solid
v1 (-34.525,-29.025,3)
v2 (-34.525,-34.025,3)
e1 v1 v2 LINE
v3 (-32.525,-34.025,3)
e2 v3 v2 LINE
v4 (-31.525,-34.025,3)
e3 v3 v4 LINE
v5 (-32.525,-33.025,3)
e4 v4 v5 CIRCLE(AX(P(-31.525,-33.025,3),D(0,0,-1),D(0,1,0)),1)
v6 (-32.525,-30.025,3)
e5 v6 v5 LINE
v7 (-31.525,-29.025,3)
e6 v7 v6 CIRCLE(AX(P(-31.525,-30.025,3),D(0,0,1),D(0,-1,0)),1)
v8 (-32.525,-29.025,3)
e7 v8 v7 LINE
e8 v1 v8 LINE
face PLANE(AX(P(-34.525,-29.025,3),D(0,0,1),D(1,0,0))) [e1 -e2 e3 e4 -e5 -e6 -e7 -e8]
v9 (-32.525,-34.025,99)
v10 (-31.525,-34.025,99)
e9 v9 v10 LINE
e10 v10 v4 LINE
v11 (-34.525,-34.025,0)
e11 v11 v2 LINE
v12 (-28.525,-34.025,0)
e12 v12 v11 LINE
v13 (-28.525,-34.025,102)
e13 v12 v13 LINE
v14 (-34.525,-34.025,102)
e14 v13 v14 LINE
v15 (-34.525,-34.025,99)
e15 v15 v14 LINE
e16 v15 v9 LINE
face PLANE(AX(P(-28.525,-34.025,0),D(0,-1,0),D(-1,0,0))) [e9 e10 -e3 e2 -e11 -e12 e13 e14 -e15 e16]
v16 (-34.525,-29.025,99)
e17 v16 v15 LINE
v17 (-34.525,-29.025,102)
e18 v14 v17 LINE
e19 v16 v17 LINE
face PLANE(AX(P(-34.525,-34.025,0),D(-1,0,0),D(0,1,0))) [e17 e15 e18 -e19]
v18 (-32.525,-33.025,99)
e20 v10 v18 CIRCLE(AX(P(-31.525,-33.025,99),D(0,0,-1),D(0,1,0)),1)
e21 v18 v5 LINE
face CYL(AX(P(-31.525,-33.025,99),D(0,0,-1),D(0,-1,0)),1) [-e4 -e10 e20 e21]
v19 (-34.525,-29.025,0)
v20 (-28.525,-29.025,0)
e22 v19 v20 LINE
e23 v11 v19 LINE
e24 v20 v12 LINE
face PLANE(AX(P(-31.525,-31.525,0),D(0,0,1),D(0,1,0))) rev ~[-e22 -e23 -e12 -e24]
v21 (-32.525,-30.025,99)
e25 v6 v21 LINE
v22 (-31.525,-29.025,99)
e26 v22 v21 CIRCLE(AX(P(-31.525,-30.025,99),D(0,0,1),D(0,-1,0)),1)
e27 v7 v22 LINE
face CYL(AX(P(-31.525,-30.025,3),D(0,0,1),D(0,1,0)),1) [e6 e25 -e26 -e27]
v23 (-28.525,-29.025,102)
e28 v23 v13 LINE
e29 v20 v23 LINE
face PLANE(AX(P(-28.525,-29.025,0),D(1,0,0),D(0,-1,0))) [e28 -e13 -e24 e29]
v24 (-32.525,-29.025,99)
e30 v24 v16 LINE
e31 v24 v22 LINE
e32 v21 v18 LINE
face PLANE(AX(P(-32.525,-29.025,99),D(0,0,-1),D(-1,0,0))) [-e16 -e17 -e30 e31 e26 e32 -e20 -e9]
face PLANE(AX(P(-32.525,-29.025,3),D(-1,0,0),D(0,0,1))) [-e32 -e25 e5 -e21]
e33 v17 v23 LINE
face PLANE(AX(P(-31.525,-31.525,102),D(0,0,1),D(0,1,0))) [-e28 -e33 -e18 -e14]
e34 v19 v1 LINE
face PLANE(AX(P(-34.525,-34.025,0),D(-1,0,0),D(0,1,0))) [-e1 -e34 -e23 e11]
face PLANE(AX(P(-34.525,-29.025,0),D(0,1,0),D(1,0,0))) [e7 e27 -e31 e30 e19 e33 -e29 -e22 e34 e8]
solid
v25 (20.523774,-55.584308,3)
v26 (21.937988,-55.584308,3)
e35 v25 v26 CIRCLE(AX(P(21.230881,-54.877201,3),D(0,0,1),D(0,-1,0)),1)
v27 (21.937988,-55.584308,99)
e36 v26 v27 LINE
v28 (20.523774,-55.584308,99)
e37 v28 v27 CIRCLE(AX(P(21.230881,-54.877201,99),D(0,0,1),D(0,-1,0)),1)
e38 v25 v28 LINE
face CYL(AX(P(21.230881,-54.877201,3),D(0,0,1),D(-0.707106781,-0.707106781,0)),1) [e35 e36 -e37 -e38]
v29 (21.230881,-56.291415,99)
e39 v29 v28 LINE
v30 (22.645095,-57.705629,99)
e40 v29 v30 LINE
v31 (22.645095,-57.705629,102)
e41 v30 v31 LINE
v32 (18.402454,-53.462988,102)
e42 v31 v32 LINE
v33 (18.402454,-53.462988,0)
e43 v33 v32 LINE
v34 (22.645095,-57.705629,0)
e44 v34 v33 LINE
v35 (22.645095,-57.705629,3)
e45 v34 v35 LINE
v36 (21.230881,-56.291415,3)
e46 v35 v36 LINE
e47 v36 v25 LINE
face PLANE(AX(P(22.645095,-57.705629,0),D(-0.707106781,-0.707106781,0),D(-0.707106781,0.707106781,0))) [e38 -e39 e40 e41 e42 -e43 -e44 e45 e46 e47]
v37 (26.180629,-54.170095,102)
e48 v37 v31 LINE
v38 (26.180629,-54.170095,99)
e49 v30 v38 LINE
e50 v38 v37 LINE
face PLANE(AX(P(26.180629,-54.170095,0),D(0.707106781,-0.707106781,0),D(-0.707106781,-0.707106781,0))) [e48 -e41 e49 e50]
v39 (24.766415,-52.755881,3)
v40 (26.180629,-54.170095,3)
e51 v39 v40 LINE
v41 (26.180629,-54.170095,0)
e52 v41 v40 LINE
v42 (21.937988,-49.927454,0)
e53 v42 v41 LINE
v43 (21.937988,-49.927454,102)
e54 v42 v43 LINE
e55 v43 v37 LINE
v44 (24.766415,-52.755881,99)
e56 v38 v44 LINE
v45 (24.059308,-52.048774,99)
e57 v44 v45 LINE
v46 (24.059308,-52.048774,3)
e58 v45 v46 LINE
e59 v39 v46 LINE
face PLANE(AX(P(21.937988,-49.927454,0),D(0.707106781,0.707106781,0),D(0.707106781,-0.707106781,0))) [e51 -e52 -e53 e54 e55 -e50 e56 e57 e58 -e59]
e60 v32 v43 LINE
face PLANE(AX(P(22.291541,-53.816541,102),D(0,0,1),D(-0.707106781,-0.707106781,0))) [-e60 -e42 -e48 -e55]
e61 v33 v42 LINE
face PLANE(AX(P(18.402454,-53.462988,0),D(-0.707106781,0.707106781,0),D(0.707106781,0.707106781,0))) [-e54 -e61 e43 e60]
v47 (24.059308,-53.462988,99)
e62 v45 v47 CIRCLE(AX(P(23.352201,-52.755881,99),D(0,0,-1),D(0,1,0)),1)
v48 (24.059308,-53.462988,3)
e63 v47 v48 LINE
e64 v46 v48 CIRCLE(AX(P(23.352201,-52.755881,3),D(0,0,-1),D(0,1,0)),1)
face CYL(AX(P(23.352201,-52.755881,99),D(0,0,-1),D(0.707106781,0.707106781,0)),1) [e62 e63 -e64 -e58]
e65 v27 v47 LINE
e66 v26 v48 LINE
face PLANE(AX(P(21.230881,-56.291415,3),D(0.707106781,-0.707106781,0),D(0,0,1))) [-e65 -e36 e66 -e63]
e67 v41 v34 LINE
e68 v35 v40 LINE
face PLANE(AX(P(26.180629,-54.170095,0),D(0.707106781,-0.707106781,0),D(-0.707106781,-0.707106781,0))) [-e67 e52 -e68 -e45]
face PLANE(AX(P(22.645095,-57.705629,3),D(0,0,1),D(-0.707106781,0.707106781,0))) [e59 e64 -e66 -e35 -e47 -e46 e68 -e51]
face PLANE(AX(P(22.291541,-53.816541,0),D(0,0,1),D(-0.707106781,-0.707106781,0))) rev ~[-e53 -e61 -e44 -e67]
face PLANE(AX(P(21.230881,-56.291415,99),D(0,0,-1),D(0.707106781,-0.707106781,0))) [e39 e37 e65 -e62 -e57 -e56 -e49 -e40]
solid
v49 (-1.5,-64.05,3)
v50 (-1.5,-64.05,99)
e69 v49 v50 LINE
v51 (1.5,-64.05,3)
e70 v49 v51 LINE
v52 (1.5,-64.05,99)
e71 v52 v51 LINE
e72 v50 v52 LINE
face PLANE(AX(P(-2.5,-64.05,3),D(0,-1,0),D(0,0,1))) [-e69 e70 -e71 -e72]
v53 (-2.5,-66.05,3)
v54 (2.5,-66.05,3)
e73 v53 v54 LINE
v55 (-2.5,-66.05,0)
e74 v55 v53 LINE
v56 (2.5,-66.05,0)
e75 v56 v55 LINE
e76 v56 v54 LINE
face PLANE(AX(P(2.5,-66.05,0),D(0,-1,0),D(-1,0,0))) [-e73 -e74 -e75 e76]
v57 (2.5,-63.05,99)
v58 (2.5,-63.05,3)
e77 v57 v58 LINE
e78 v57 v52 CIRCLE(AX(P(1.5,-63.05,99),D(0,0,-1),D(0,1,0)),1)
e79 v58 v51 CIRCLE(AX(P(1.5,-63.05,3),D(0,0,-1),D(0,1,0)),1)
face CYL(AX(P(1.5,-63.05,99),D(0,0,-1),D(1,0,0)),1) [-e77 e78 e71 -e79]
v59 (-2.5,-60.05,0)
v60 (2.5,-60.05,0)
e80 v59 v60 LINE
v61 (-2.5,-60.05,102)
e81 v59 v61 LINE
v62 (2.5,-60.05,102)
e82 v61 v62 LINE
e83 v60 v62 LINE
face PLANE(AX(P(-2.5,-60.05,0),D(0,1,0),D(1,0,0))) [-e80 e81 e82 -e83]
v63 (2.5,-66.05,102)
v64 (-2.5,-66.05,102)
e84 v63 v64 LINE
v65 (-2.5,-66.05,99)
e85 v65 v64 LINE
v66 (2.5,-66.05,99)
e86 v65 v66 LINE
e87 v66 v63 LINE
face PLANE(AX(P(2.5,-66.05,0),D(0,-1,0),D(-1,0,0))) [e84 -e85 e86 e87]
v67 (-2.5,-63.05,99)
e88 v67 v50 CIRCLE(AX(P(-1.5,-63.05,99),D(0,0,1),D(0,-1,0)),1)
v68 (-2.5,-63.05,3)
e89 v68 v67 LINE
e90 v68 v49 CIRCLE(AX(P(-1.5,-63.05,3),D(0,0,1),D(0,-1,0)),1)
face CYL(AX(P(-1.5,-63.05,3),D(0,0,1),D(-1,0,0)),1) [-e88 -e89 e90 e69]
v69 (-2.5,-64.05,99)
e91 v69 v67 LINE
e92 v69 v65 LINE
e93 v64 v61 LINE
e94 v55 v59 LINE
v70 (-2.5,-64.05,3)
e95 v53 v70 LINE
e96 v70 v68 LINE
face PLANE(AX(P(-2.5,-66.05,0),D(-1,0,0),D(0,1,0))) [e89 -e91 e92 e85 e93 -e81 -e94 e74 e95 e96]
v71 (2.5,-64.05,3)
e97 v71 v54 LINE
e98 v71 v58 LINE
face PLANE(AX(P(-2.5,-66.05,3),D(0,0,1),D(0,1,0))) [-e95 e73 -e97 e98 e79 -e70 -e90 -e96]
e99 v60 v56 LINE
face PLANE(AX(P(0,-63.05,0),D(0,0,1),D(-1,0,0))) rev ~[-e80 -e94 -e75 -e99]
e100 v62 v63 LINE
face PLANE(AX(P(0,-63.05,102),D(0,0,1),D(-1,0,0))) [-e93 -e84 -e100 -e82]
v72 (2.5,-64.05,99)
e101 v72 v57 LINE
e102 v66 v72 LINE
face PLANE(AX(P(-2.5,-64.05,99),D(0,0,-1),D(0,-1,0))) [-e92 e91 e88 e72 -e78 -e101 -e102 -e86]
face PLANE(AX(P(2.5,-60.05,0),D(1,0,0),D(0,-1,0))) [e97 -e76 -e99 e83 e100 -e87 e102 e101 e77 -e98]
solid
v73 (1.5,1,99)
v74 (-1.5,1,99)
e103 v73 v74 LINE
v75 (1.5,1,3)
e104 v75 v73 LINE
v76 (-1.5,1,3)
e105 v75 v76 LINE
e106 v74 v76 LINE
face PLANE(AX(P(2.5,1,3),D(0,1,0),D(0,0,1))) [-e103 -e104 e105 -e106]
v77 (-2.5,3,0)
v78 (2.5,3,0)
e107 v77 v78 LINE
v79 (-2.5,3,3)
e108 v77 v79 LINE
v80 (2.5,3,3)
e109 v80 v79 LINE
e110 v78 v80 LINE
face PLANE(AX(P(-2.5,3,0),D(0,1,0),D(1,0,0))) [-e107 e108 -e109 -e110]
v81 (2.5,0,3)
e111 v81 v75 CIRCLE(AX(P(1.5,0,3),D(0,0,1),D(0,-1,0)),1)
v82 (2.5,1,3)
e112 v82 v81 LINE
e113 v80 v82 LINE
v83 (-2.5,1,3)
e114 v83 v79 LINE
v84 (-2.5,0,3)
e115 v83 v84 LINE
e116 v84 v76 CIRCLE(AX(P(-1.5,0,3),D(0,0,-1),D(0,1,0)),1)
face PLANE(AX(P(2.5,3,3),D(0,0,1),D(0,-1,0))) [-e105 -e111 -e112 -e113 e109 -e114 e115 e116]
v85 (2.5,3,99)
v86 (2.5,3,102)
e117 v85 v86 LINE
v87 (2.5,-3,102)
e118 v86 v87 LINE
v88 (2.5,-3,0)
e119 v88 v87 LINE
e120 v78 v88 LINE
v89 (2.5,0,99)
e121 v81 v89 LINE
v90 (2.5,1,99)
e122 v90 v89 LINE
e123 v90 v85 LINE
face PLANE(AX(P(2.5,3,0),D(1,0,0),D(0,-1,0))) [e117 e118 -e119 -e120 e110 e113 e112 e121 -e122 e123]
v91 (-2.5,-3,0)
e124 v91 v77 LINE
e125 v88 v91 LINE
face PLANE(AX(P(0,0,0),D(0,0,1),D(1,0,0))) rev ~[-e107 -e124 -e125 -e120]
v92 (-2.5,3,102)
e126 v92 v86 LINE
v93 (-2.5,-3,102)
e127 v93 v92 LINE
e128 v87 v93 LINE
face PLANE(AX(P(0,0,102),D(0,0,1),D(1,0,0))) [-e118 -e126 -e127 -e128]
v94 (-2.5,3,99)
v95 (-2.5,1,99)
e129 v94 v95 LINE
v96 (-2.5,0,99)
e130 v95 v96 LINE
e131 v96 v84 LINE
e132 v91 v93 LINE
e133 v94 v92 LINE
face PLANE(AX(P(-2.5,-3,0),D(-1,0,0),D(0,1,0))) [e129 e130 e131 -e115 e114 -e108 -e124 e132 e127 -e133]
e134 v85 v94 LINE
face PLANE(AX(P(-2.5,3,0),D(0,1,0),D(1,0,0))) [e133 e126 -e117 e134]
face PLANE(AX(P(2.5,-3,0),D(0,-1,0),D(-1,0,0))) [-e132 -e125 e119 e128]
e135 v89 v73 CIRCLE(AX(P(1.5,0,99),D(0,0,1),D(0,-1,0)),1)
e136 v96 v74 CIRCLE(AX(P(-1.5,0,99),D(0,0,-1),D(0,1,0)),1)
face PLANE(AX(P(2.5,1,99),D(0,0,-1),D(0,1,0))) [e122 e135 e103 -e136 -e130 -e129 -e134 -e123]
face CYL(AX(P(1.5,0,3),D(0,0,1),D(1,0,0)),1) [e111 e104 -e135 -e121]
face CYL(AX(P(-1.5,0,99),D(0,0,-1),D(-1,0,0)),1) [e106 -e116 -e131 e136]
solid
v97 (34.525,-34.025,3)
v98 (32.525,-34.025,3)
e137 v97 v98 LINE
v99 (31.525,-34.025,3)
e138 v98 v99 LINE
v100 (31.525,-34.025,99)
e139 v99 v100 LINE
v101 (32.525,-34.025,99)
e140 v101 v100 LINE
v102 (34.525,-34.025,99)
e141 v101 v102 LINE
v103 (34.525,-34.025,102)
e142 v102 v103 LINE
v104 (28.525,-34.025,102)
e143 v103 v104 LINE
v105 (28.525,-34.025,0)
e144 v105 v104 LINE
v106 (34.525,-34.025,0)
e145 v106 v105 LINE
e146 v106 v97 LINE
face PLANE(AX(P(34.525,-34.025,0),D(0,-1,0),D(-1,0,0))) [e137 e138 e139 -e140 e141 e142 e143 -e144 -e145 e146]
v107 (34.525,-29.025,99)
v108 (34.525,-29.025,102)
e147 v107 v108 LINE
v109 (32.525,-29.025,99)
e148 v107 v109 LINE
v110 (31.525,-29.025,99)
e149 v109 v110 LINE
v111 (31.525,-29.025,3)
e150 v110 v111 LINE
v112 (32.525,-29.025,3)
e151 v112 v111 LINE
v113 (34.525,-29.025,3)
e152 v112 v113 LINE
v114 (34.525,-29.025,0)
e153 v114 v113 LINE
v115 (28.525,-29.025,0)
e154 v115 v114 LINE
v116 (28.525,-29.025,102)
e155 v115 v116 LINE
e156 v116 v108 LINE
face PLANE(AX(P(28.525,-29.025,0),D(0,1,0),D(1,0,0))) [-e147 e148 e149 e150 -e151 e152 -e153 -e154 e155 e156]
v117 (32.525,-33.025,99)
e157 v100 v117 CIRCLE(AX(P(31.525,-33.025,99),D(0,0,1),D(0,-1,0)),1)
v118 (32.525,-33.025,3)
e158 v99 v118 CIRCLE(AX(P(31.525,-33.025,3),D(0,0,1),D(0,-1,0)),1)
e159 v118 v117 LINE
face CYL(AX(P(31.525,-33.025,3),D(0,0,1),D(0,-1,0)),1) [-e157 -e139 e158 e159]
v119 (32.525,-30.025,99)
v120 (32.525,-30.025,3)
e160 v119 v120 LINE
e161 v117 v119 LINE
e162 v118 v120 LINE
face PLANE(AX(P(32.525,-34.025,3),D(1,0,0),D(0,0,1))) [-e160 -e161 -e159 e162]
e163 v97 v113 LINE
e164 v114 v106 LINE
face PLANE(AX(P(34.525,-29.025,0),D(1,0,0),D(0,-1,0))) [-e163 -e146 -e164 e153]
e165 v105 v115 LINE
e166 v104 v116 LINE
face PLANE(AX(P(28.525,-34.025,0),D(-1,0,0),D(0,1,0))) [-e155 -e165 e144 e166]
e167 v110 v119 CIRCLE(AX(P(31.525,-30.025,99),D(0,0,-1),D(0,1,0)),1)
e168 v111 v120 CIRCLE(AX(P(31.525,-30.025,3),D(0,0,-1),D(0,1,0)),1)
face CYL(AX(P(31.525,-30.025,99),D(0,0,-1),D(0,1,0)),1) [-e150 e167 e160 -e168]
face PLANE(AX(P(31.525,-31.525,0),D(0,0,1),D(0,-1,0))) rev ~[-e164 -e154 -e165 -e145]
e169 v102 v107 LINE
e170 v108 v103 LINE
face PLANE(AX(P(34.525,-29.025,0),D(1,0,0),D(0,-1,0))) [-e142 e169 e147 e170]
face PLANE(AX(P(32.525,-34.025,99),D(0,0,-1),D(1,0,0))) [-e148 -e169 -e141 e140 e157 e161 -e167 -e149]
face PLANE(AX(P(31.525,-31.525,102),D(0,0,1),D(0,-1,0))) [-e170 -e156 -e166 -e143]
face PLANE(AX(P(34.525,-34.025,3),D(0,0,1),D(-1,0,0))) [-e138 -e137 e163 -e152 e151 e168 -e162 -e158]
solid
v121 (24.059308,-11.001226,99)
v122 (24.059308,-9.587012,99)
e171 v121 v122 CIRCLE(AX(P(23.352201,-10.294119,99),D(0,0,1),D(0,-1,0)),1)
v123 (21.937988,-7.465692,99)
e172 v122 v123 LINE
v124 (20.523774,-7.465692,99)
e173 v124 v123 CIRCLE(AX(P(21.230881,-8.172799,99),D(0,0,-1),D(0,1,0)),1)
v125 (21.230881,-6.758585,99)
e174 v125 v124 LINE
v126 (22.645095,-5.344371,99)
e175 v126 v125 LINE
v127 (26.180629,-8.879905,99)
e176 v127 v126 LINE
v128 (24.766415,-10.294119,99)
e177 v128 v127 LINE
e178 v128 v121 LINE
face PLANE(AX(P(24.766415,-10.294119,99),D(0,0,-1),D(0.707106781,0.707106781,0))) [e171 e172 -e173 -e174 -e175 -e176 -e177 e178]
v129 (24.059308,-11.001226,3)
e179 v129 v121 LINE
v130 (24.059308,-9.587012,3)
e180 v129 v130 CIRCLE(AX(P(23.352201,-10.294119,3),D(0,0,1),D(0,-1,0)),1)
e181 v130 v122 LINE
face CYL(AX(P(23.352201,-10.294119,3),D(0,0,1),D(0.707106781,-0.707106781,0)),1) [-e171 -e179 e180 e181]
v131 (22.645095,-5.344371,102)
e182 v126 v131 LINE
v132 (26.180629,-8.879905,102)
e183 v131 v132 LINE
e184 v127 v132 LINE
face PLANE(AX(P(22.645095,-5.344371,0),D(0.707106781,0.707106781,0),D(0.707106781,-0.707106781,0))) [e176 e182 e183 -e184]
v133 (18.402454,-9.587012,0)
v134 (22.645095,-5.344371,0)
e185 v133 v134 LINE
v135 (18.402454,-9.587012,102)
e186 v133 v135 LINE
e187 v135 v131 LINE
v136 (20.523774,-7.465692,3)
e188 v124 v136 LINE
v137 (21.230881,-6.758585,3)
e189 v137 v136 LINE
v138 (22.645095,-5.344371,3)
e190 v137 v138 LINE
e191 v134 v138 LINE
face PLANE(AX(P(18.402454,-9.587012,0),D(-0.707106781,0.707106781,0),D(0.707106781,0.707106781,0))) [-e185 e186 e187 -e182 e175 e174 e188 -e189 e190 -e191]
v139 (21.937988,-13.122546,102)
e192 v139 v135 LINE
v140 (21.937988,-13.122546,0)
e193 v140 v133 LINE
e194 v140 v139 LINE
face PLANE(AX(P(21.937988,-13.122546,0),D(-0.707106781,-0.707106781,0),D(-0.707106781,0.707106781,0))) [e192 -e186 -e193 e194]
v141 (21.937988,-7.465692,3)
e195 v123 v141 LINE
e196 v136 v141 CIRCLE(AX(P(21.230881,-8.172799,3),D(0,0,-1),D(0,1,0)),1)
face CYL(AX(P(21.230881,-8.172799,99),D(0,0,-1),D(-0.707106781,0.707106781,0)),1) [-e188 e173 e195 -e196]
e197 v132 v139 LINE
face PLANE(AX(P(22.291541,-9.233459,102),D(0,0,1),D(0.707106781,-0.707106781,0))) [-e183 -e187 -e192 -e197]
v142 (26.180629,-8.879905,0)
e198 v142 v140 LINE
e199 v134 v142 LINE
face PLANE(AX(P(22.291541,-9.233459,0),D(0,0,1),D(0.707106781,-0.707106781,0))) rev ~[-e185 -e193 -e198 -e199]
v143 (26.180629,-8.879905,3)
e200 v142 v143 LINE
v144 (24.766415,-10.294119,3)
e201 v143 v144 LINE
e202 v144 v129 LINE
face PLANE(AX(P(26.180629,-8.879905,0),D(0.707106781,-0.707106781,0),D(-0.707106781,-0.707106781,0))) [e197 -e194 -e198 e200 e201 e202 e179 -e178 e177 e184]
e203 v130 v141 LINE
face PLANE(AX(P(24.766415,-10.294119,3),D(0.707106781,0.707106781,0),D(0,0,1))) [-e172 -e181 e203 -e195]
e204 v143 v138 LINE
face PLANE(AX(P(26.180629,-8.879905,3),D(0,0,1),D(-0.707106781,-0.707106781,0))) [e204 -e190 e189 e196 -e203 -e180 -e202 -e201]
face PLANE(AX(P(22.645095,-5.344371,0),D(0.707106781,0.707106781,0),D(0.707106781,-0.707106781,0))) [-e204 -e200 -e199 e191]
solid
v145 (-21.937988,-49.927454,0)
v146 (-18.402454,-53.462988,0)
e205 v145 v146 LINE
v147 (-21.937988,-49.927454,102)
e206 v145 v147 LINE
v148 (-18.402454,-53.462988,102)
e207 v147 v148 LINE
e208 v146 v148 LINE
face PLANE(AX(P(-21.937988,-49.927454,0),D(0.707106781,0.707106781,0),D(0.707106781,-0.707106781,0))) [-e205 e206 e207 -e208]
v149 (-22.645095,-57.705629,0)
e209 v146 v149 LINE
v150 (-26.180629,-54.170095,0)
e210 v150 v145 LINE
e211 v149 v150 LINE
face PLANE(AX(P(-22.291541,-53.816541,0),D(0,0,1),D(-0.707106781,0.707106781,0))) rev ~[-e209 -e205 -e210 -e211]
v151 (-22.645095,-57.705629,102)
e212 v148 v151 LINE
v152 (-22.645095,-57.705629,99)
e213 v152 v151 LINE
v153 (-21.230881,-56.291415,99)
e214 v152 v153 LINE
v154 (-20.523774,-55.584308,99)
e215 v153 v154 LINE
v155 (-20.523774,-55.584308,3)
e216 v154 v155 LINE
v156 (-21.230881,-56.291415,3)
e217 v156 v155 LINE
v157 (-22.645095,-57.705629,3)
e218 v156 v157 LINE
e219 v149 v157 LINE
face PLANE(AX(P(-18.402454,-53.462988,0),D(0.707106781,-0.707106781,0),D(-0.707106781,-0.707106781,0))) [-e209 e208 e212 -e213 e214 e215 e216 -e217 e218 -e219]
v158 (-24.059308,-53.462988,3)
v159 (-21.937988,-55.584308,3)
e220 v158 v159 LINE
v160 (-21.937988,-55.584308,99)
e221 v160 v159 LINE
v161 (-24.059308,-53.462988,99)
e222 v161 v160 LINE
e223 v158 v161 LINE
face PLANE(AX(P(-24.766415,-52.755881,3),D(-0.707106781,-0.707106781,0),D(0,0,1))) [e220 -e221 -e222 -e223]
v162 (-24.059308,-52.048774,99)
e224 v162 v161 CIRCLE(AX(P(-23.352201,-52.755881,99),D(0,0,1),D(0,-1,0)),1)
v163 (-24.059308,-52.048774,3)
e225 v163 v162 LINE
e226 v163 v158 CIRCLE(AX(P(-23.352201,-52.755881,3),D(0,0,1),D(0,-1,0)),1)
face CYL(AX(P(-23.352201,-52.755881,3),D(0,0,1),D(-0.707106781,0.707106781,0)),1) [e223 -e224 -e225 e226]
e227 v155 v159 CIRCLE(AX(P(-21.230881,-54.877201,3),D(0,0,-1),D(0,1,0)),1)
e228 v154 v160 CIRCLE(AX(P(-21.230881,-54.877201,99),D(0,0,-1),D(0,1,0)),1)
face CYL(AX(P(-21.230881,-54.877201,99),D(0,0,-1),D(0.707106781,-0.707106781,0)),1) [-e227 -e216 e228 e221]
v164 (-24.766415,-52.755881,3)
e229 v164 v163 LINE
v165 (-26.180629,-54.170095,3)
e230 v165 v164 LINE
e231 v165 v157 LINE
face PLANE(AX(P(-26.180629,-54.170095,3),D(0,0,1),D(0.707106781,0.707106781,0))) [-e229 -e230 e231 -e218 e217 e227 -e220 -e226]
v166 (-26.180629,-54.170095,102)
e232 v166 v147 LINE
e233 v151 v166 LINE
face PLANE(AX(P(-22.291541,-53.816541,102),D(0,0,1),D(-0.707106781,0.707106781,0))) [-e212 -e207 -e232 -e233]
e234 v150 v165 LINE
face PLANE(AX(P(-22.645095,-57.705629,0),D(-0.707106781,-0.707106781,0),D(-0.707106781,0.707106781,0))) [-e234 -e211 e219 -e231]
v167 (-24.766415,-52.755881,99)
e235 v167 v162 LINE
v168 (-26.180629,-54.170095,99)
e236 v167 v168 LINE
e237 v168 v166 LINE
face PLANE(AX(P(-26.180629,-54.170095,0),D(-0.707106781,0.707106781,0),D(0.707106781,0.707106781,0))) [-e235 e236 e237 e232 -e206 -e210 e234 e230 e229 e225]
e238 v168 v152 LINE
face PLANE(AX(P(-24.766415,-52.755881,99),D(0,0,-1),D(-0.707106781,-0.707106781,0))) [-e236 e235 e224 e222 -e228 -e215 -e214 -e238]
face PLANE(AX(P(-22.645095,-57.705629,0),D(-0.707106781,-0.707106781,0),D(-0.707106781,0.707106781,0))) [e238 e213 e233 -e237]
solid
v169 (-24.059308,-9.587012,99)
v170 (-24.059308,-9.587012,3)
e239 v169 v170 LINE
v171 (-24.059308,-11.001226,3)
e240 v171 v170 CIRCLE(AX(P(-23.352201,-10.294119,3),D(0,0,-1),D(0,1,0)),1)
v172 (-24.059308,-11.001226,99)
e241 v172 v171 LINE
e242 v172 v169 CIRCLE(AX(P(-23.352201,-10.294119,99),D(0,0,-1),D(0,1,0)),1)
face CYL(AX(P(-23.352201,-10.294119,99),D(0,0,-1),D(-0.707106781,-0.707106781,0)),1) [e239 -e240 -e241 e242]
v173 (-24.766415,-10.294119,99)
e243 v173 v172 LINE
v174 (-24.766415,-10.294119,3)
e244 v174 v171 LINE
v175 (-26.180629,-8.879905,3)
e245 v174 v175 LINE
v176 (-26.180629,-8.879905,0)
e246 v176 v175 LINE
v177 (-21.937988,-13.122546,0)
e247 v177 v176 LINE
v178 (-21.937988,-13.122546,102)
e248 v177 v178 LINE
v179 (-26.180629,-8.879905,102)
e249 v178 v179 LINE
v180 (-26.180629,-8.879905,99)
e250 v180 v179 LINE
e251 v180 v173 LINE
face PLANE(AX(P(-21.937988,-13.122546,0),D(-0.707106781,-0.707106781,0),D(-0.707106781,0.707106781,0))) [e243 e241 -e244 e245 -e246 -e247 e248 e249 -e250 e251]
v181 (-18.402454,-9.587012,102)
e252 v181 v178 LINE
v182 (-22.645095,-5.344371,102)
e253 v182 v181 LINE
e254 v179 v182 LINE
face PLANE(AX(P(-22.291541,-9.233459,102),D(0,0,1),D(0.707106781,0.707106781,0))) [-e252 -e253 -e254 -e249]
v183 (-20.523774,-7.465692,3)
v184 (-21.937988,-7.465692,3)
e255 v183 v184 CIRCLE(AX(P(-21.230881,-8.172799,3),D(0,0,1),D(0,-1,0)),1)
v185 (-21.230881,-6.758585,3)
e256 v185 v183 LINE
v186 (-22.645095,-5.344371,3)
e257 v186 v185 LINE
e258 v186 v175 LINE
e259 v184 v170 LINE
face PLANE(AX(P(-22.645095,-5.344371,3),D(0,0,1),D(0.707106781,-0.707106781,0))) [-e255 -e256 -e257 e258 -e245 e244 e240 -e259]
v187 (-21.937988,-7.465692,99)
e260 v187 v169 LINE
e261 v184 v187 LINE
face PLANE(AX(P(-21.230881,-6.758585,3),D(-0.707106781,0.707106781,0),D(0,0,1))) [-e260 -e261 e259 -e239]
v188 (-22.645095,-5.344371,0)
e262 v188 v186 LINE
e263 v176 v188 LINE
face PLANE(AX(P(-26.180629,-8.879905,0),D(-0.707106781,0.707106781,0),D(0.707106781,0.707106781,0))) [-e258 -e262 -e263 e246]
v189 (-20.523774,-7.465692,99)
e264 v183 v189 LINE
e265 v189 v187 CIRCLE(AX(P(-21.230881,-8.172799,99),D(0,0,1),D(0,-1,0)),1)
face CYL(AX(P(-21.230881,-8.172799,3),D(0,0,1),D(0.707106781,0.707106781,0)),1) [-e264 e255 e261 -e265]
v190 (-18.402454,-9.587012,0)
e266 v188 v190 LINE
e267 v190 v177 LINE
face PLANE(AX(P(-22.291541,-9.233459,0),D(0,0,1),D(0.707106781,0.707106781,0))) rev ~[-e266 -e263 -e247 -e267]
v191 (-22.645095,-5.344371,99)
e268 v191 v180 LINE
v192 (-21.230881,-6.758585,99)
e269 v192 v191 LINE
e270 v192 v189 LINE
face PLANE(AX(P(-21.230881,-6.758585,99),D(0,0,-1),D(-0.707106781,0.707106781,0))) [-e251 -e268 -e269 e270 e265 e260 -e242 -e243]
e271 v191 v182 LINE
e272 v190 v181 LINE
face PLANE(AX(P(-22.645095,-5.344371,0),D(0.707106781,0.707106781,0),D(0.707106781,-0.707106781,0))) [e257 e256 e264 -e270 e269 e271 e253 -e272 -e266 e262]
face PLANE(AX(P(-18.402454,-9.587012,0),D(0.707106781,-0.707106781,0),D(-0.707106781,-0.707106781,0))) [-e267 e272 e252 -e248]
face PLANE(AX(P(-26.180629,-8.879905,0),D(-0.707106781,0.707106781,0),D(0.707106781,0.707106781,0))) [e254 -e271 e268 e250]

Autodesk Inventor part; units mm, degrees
ref_plane "YZ Plane" through (0, 0, 0) normal (1, 0, 0) x (0, 1, 0)
ref_plane "XZ Plane" through (0, 0, 0) normal (0, 1, 0) x (-1, 0, 0)
ref_plane "XY Plane" through (0, 0, 0) normal (0, 0, 1) x (1, 0, 0)
sketch "Sketch1" plane through (0, 0, 0) normal (0, 0, 1) x (1, 0, 0)
  line L0 (-2.5, 3) -> (2.5, 3)
  line L1 (2.5, 3) -> (2.5, -3)
  line L2 (2.5, -3) -> (-2.5, -3)
  line L3 (-2.5, -3) -> (-2.5, 3)
  point P0 (0, 0)
  dimension "d0" = 5
  dimension "d1" = 6
  dimension "d2" = 3
  dimension "d3" = 2.5
extrude "Extrusion1" add sketch "Sketch1" along normal blind 102
sketch "Sketch2" plane through (2.5, -3, 0) normal (1, 0, 0) x (0, 0, -1)
  line L0 (0, 6) -> (-102, 6) projected
  line L1 (-99, 6) -> (-3, 6)
  line L2 (-3, 6) -> (-3, 4)
  line L3 (-3, 4) -> (-99, 4)
  line L4 (-99, 4) -> (-99, 6)
  point P0 (0, 3)
  point P1 (-3, 6)
  dimension "d6" = 3
  dimension "d7" = 96
  dimension "d8" = 2
extrude "Extrusion2" cut sketch "Sketch2" against normal through all
fillet "Fillet1" radius 1 2 edges at (2.5, 1, 51) (-2.5, 1, 51)
sketch3d "3D Sketch1"
pattern_circular "Circular Pattern1" count 8 over 360 about axis through (0, -31.525, 102) along (0, 0, -1) of "Extrusion1", "Extrusion2", "Fillet1"
sketch "Sketch3" plane through (0, 0, 0) normal (0, 0, 1) x (1, 0, 0)
  line L0 (0, 0) -> (0, -31.525)
  line L1 (-2.5, -66.05) -> (2.5, -66.05) projected
  line L2 (2.5, 3) -> (-2.5, 3) projected
  dimension "d17" = 69.05
  dimension "d18" = 3
  dimension "d19" = 31.525
equation "\"d2\" = 0.5 * d1"
equation "\"d3\" = 0.5 * d0"
equation "\"d19\" = 0.5 * d17 - d18"
properties part number "1402_Bias Coil Spacer_V1" material "ABS Plastic"
